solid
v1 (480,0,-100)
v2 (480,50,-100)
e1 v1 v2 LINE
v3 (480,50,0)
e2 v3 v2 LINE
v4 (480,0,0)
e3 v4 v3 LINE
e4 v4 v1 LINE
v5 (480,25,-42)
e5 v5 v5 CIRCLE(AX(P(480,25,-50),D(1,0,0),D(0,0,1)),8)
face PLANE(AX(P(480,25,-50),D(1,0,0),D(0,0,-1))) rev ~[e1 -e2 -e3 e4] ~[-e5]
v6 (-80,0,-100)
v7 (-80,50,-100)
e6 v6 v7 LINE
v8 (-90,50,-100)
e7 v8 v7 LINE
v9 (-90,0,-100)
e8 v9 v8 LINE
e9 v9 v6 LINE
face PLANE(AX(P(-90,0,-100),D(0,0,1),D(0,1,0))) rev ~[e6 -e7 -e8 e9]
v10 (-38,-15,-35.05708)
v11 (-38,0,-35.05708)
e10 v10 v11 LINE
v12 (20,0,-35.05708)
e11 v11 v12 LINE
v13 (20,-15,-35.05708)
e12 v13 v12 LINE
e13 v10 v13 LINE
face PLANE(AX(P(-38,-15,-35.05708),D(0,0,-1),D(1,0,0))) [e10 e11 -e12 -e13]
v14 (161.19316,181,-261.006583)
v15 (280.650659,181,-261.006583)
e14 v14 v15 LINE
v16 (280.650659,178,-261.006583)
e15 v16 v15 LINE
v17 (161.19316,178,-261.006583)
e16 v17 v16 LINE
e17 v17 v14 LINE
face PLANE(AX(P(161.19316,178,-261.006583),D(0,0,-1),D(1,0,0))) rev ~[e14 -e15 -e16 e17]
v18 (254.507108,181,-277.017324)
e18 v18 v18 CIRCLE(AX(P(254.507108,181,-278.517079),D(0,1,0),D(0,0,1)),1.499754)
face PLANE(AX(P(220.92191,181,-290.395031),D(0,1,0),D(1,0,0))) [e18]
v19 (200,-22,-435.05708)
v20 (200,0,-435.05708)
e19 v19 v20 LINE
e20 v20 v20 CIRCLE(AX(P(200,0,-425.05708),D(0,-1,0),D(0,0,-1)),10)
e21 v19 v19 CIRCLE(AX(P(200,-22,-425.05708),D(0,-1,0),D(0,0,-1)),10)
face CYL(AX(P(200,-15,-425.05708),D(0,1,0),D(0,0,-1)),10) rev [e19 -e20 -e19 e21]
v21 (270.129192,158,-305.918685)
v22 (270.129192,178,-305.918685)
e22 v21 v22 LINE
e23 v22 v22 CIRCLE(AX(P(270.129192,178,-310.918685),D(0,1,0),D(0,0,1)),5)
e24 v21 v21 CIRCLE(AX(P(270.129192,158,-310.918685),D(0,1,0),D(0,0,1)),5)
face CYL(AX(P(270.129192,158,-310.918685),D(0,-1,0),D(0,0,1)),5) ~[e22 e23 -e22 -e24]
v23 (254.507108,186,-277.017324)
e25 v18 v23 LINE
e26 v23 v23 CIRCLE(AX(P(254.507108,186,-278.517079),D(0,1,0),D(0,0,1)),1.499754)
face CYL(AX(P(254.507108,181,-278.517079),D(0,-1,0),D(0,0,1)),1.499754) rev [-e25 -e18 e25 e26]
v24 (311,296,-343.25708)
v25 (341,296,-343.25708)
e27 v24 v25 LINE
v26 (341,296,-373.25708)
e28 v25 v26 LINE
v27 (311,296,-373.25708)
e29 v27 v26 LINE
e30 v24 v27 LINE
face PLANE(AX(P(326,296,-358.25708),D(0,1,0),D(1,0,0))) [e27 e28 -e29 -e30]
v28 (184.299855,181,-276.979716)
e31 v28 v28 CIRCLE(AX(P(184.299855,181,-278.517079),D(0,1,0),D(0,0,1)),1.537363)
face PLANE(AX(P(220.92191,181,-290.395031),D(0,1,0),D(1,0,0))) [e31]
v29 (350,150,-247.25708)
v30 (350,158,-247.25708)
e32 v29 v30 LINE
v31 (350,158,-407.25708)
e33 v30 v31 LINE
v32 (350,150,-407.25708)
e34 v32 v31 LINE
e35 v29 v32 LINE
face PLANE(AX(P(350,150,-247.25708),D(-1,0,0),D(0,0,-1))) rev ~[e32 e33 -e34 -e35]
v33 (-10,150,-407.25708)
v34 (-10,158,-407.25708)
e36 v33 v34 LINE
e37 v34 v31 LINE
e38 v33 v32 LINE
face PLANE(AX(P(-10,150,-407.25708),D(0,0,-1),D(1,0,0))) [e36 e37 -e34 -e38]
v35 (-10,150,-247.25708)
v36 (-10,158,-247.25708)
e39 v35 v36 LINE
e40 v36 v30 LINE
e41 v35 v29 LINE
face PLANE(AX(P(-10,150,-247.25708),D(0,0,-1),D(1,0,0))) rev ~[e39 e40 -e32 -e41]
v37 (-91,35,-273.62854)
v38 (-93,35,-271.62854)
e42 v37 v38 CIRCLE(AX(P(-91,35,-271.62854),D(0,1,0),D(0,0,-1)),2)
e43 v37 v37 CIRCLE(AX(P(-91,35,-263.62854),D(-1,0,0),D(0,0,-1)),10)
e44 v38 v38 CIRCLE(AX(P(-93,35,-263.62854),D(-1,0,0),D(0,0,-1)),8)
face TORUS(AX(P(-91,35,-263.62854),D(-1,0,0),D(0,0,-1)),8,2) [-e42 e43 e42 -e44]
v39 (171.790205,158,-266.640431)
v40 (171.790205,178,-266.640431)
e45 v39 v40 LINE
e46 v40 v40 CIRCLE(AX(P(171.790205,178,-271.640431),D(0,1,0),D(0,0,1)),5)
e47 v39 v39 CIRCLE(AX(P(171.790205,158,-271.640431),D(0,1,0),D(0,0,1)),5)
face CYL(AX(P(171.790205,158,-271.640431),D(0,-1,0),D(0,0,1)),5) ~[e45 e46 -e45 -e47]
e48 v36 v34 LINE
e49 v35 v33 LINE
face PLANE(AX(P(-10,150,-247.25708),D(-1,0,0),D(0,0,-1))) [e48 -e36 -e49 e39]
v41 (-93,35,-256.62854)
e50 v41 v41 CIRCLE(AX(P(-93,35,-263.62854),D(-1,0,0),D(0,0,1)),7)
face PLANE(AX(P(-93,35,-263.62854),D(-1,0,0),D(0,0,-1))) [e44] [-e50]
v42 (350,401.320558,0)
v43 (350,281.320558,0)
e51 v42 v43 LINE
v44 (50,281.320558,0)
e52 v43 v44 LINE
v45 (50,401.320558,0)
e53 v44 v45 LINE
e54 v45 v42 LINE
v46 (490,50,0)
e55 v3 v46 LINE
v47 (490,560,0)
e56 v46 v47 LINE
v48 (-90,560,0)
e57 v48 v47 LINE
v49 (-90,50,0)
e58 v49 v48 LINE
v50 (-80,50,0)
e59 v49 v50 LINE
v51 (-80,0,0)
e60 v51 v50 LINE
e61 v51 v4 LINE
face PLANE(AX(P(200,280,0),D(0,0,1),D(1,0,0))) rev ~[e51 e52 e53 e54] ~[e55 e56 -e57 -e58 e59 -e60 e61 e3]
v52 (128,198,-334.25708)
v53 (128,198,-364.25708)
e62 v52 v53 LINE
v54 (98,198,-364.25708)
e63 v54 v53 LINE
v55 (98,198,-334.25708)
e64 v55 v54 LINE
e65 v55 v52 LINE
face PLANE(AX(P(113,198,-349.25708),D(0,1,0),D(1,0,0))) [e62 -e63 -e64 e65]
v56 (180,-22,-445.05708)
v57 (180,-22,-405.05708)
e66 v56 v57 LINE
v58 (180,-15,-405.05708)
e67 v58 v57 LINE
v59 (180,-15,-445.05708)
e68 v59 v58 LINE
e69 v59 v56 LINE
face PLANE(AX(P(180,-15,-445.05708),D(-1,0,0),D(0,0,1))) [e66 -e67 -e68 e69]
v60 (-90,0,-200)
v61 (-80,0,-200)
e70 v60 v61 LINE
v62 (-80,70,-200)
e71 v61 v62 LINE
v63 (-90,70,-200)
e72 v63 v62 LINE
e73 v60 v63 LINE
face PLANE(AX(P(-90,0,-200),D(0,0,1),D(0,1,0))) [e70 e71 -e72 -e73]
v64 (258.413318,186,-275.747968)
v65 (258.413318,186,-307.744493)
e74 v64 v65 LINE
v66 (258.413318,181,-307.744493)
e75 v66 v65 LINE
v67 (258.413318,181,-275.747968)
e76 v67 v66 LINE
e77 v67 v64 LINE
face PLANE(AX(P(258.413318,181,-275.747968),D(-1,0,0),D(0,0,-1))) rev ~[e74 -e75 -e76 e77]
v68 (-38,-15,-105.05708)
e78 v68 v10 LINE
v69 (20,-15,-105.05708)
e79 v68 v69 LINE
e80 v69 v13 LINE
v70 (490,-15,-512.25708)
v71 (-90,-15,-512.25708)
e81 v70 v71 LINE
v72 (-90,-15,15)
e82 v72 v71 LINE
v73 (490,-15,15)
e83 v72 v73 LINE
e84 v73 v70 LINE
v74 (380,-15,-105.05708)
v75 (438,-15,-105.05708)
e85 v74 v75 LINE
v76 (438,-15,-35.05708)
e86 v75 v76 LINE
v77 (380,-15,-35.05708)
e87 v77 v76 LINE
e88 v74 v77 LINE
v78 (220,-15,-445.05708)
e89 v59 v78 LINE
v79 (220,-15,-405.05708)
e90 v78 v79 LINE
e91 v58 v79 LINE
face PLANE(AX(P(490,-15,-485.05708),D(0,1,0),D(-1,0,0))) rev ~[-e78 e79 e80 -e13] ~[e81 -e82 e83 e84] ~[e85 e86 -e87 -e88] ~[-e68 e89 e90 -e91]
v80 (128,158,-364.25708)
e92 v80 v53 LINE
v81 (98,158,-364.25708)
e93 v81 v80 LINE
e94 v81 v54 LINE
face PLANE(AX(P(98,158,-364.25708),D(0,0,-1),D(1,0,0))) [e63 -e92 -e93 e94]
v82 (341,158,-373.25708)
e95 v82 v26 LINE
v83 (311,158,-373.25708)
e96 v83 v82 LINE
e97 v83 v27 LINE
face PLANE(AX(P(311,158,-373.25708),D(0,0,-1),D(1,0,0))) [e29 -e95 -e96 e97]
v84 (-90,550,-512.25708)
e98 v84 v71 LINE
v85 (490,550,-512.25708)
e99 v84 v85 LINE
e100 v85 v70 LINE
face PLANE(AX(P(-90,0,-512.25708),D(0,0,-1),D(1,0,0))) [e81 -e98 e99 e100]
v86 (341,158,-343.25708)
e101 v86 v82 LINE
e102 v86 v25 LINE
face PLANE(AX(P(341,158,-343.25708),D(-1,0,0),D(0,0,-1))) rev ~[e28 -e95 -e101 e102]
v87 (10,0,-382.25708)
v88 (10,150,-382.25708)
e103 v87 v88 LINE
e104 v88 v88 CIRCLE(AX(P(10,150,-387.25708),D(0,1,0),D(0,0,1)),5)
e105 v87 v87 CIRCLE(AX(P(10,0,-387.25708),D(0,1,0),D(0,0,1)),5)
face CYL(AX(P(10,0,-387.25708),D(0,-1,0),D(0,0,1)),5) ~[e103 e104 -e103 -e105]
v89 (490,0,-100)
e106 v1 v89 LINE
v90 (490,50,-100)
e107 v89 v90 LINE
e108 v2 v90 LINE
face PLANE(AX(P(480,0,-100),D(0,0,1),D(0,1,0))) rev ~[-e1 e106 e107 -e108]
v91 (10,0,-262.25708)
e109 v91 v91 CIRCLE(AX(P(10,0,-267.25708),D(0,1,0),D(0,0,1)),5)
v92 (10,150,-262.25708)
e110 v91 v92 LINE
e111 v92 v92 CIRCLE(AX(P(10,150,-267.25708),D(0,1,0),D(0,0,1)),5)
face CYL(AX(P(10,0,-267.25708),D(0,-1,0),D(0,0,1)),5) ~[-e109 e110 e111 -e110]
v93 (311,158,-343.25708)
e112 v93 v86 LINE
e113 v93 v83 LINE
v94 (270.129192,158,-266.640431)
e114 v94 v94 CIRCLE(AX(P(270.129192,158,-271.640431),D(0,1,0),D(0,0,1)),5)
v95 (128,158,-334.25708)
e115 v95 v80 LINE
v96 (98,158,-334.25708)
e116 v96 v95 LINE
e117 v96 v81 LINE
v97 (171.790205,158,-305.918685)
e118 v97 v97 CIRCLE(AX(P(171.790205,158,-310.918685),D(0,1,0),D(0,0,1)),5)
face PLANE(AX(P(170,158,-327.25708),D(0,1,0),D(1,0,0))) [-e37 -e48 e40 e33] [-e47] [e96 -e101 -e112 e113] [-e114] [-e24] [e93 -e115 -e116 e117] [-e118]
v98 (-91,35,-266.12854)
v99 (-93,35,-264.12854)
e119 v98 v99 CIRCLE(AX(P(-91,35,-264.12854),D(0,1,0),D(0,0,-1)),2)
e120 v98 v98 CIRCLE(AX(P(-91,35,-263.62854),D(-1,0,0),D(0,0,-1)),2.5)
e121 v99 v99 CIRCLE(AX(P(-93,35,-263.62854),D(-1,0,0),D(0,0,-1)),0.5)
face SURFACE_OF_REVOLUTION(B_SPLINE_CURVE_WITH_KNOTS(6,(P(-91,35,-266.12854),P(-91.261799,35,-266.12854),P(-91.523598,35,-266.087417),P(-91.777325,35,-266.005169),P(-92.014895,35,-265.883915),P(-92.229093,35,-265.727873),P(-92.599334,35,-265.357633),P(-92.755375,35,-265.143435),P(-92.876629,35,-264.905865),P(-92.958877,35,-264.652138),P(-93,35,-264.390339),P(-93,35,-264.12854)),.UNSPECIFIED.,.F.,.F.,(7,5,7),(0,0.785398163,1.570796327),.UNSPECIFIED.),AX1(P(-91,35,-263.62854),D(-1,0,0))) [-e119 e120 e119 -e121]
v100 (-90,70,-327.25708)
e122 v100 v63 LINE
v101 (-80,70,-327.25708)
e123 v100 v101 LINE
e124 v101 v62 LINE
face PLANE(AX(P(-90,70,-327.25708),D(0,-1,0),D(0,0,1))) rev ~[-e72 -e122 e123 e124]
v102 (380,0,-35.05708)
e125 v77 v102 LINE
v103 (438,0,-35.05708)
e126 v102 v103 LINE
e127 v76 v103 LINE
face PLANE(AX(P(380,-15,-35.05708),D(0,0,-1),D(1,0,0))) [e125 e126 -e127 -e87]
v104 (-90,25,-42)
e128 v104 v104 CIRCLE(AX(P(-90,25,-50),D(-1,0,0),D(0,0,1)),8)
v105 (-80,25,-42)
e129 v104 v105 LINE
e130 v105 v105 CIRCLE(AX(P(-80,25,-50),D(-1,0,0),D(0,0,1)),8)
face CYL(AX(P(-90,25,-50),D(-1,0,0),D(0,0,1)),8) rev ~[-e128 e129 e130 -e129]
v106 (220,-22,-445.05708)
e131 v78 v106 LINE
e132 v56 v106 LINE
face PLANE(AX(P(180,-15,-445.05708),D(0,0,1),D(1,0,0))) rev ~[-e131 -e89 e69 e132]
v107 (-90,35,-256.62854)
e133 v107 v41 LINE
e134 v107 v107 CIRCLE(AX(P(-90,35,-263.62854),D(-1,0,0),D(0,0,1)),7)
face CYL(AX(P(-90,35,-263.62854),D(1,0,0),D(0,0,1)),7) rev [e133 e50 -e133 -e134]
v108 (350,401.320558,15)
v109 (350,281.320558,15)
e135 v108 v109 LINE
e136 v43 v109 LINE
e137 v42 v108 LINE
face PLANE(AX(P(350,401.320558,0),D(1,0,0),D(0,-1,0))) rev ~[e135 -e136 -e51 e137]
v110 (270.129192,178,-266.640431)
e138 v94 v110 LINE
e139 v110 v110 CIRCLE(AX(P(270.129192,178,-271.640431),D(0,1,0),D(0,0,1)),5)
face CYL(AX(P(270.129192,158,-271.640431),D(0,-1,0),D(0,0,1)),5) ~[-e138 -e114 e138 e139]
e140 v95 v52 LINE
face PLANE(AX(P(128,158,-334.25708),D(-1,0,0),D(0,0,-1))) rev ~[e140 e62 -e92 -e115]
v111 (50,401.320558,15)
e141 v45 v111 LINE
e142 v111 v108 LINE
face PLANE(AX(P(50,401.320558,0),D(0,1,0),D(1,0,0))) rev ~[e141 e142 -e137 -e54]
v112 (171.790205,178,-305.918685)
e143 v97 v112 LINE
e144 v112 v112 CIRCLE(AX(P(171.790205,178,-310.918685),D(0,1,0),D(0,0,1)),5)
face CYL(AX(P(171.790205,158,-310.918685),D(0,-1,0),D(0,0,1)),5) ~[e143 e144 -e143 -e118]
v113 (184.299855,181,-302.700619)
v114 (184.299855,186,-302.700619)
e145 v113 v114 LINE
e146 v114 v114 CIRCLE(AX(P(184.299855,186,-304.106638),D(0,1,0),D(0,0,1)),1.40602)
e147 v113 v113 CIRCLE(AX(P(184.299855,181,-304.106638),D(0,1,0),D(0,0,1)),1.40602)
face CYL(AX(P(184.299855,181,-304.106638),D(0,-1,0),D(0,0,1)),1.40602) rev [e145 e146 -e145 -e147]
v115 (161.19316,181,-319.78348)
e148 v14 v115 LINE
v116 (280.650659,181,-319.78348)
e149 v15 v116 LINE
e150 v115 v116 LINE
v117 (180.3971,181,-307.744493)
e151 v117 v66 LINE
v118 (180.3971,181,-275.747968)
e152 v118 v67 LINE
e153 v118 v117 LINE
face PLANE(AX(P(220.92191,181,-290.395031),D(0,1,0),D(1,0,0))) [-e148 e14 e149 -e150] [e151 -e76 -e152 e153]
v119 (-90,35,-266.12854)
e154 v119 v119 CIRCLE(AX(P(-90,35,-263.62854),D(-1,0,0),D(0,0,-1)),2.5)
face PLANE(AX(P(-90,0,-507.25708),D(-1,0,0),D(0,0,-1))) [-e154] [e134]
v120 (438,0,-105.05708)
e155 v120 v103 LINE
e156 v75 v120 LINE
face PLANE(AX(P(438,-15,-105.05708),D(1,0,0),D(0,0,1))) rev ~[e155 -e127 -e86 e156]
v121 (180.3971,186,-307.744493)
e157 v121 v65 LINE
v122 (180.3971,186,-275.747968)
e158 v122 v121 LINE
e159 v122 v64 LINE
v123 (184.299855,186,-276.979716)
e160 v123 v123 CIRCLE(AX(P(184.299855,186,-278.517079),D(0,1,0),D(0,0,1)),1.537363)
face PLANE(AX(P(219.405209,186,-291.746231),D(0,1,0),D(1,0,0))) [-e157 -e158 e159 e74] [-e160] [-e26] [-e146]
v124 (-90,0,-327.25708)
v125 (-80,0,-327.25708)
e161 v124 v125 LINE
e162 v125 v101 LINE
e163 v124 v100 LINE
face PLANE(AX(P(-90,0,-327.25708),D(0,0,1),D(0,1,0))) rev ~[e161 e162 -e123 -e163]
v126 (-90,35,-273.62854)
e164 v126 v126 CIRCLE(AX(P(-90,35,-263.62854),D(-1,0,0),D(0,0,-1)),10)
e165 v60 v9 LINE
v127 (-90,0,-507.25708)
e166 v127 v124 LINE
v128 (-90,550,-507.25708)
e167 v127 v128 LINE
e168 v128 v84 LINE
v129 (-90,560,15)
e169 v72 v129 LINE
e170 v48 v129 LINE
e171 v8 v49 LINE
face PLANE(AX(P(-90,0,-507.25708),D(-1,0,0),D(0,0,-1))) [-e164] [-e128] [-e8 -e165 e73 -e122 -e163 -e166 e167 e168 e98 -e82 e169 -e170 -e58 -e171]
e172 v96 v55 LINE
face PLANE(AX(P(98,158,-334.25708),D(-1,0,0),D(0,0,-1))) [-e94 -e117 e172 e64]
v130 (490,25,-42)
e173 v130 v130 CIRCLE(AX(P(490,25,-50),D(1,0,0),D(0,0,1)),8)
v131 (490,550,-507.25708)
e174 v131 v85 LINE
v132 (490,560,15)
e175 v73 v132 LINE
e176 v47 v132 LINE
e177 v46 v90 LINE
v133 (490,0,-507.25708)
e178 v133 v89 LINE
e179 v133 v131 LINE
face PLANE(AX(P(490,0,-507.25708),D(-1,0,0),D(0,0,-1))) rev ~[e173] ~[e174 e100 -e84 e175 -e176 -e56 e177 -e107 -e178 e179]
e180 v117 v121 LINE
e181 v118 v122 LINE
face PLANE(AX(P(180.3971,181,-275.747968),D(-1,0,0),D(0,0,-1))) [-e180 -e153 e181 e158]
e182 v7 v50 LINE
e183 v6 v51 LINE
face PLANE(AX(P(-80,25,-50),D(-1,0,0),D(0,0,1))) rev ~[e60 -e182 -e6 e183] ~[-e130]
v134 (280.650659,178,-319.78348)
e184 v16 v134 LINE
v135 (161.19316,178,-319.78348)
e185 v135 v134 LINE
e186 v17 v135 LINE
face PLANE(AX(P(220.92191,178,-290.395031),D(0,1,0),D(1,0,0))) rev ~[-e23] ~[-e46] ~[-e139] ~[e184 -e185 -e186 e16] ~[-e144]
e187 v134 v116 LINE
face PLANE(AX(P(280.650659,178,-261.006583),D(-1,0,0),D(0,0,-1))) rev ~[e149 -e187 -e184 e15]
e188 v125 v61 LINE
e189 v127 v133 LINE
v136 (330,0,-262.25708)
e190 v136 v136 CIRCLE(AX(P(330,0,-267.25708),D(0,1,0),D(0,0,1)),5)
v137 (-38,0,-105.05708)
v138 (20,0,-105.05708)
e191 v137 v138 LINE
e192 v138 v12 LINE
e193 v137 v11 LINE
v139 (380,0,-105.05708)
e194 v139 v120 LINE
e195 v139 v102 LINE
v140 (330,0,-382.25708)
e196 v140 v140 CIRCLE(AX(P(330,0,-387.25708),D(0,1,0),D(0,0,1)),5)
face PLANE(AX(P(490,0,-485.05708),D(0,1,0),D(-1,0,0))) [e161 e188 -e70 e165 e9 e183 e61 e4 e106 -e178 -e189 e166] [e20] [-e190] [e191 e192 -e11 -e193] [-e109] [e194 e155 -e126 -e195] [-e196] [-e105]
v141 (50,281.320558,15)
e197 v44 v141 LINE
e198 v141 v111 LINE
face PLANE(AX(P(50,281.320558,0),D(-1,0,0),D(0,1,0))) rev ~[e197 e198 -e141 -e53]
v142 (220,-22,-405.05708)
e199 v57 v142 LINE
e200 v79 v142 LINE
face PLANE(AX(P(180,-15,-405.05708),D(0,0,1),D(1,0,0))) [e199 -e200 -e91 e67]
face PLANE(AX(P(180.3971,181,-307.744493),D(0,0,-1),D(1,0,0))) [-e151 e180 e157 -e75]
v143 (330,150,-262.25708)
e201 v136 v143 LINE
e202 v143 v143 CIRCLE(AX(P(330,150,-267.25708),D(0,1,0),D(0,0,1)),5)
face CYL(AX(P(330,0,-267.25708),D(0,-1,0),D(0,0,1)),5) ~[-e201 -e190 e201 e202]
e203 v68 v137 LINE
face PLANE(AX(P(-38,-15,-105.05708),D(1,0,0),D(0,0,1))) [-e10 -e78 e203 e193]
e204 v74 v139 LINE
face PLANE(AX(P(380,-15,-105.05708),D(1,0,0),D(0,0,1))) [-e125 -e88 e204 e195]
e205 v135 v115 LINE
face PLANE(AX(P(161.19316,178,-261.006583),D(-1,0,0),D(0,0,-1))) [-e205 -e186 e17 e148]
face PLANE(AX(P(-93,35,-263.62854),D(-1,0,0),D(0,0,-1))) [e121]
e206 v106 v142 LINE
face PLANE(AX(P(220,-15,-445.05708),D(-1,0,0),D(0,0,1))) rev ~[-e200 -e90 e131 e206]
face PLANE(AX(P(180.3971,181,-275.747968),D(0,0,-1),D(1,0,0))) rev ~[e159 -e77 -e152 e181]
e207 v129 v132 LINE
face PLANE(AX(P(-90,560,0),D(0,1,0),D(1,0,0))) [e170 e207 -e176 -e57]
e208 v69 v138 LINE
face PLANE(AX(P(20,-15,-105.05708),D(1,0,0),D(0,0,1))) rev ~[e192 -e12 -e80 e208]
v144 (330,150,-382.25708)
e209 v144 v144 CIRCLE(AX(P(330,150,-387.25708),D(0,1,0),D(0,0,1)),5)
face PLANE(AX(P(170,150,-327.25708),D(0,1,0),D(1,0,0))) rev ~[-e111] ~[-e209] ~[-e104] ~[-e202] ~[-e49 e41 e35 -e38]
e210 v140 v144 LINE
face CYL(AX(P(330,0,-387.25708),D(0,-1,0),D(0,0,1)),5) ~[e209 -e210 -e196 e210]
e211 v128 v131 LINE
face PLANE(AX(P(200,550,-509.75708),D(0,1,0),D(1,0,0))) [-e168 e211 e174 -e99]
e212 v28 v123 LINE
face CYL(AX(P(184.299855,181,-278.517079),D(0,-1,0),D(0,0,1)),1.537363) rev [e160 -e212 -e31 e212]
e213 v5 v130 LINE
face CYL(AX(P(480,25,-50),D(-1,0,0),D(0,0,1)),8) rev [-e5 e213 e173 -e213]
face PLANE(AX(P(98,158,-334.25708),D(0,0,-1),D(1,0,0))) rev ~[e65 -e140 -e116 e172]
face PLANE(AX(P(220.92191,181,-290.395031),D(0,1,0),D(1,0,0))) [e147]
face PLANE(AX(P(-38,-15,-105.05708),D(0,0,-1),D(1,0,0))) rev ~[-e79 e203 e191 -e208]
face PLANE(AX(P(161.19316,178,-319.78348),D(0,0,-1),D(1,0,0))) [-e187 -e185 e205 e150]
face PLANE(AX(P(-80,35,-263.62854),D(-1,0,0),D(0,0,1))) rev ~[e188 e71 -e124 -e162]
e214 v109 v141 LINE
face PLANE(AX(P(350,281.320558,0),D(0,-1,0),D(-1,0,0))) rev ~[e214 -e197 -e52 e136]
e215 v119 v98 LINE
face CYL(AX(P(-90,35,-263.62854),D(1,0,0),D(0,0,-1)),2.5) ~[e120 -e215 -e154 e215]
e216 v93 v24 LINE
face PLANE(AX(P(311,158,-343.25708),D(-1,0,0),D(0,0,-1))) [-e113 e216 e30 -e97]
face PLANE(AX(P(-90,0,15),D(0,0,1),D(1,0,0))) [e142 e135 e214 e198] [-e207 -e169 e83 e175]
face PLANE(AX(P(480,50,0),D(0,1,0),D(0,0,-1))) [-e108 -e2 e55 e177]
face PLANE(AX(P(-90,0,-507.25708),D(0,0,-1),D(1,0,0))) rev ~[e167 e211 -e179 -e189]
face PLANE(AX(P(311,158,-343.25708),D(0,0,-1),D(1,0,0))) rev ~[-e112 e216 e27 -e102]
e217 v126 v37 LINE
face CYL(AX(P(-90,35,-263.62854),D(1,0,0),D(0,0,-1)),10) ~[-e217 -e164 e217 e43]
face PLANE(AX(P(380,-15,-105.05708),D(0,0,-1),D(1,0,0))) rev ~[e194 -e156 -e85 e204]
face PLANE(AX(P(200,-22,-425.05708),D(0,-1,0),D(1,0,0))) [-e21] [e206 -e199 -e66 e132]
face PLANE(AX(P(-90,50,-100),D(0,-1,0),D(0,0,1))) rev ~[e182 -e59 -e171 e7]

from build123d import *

# Parameters (mm, degrees)
SKETCH_1_W          = 580
SKETCH_1_H          = 560
EXTRUDE_1_DEPTH     = 15
SKETCH_3_W          = 580
SKETCH_3_H          = 500.057079529
EXTRUDE_2_DEPTH     = 15
SKETCH_4_R          = 10
SKETCH_4_W          = 58
SKETCH_4_H          = 70
CUT_EXTRUDE_1_DEPTH = 15
SKETCH_5_W          = 40
SKETCH_5_H          = 40
SKETCH_5_R          = 10
EXTRUDE_3_DEPTH     = 7
SKETCH_6_W          = 100
SKETCH_6_H          = 50
SKETCH_6_R          = 8
EXTRUDE_4_DEPTH     = 10
EXTRUDE_START       = -10
SKETCH_7_W          = 100
SKETCH_7_H          = 50
SKETCH_7_R          = 8
EXTRUDE_5_DEPTH     = 10
SKETCH_8_W          = 580
SKETCH_8_H          = 15
EXTRUDE_6_DEPTH     = 27.2
SKETCH_9_W          = 580
SKETCH_9_H          = 5
EXTRUDE_7_DEPTH     = 550
SKETCH_10_R         = 5
EXTRUDE_8_DEPTH     = 150
SKETCH_11_W         = 360
SKETCH_11_H         = 160
EXTRUDE_9_DEPTH     = 8
SKETCH_12_W         = 30
SKETCH_12_H         = 30
EXTRUDE_10_DEPTH    = 40
SKETCH_13_W         = 30
SKETCH_13_H         = 30
EXTRUDE_11_DEPTH    = 138
SKETCH_14_W         = 127.257079529
SKETCH_14_H         = 70
EXTRUDE_12_DEPTH    = 10
SKETCH_15_R         = 10
SKETCH_15_R_2       = 7
SKETCH_15_R_3       = 2.5
EXTRUDE_13_DEPTH    = 3
FILLET_2_R          = 2
SKETCH_16_R         = 5
EXTRUDE_14_DEPTH    = 20
SKETCH_17_W         = 119.457499099
SKETCH_17_H         = 58.776896967
EXTRUDE_15_DEPTH    = 3
SKETCH_18_W         = 78.016217291
SKETCH_18_H         = 31.996524559
SKETCH_18_R         = 1.406019753
SKETCH_18_R_2       = 1.53736257
SKETCH_18_R_3       = 1.499754403
EXTRUDE_16_DEPTH    = 5


with BuildPart() as part:
    # 草图1 → 凸台-拉伸1 (new body)
    with BuildSketch(Plane.XY):
        with Locations((200, 280)):
            Rectangle(SKETCH_1_W, SKETCH_1_H)
        Polygon((200, 401.320557861), (350, 401.320557861), (350, 281.320557861), (50, 281.320557861), (50, 401.320557861), align=None, mode=Mode.SUBTRACT)
    extrude(amount=EXTRUDE_1_DEPTH)



with BuildPart() as body_2:
    # 草图3 → 凸台-拉伸2 (new body)
    with BuildSketch(Plane.XZ):
        with Locations((200, -235.028539765)):
            Rectangle(SKETCH_3_W, SKETCH_3_H)
    extrude(amount=EXTRUDE_2_DEPTH)

    # 草图4 → 切除-拉伸1 (cut)
    with BuildSketch(Plane.XZ.offset(15)):
        with Locations(Location((200, -425.057079529, 0), (0, 0, 270))):
            Circle(SKETCH_4_R)
        with Locations((409, -70.057079529)):
            Rectangle(SKETCH_4_W, SKETCH_4_H)
        with Locations((-9, -70.057079529)):
            Rectangle(SKETCH_4_W, SKETCH_4_H)
    extrude(amount=-CUT_EXTRUDE_1_DEPTH, mode=Mode.SUBTRACT)

    # 草图5 → 凸台-拉伸3 (add)
    with BuildSketch(Plane.XZ.offset(15)):
        with Locations((200, -425.057079529)):
            Rectangle(SKETCH_5_W, SKETCH_5_H)
        with Locations(Location((200, -425.057079529, 0), (0, 0, 270))):
            Circle(SKETCH_5_R, mode=Mode.SUBTRACT)
    extrude(amount=EXTRUDE_3_DEPTH)


with BuildPart() as part_1:
    add(part.part)

    add(body_2.part)  # 凸台-拉伸4 merges body 2
    # 草图6 → 凸台-拉伸4 (add)
    with BuildSketch(Plane.ZY.offset(90)):
        with Locations((-50, 25)):
            Rectangle(SKETCH_6_W, SKETCH_6_H)
        with Locations((-50, 25)):
            Circle(SKETCH_6_R, mode=Mode.SUBTRACT)
    extrude(amount=-EXTRUDE_4_DEPTH)

    # 草图7 → 凸台-拉伸5 (add)
    with BuildSketch(Plane(origin=(490, 0, 0), x_dir=(0, 0, -1), z_dir=(1, 0, 0)).offset(EXTRUDE_START)):
        with Locations((50, 25)):
            Rectangle(SKETCH_7_W, SKETCH_7_H)
        with Locations(Location((50, 25, 0), (0, 0, 180))):
            Circle(SKETCH_7_R, mode=Mode.SUBTRACT)
    extrude(amount=EXTRUDE_5_DEPTH)

    # 草图8 → 凸台-拉伸6 (add)
    with BuildSketch(Plane(origin=(0, 0, -485.057079529), x_dir=(-1, 0, 0), z_dir=(0, 0, -1))):
        with Locations((-200, -7.5)):
            Rectangle(SKETCH_8_W, SKETCH_8_H)
    extrude(amount=EXTRUDE_6_DEPTH)

    # 草图9 → 凸台-拉伸7 (add)
    with BuildSketch(Plane(origin=(0, 0, 0), x_dir=(1, 0, 0), z_dir=(0, 1, 0))):
        with Locations((200, 509.757079529)):
            Rectangle(SKETCH_9_W, SKETCH_9_H)
    extrude(amount=EXTRUDE_7_DEPTH)

    # 草图10 → 凸台-拉伸8 (add)
    with BuildSketch(Plane(origin=(0, 0, 0), x_dir=(1, 0, 0), z_dir=(0, 1, 0))):
        with Locations(Location((10, 387.257079529, 0), (0, 0, 270))):
            Circle(SKETCH_10_R)
        with Locations(Location((330, 387.257079529, 0), (0, 0, 270))):
            Circle(SKETCH_10_R)
        with Locations(Location((10, 267.257079529, 0), (0, 0, 270))):
            Circle(SKETCH_10_R)
        with Locations(Location((330, 267.257079529, 0), (0, 0, 270))):
            Circle(SKETCH_10_R)
    extrude(amount=EXTRUDE_8_DEPTH)

    # 草图11 → 凸台-拉伸9 (add)
    with BuildSketch(Plane(origin=(0, 150, 0), x_dir=(1, 0, 0), z_dir=(0, 1, 0))):
        with Locations((170, 327.257079529)):
            Rectangle(SKETCH_11_W, SKETCH_11_H)
    extrude(amount=EXTRUDE_9_DEPTH)

    # 草图12 → 凸台-拉伸10 (add)
    with BuildSketch(Plane(origin=(0, 158, 0), x_dir=(1, 0, 0), z_dir=(0, 1, 0))):
        with Locations((113, 349.257079529)):
            Rectangle(SKETCH_12_W, SKETCH_12_H)
    extrude(amount=EXTRUDE_10_DEPTH)

    # 草图13 → 凸台-拉伸11 (add)
    with BuildSketch(Plane(origin=(0, 158, 0), x_dir=(1, 0, 0), z_dir=(0, 1, 0))):
        with Locations((326, 358.257079529)):
            Rectangle(SKETCH_13_W, SKETCH_13_H)
    extrude(amount=EXTRUDE_11_DEPTH)

    # 草图14 → 凸台-拉伸12 (add)
    with BuildSketch(Plane.ZY.offset(90)):
        with Locations((-263.628539765, 35)):
            Rectangle(SKETCH_14_W, SKETCH_14_H)
    extrude(amount=-EXTRUDE_12_DEPTH)

    # 草图15 → 凸台-拉伸13 (add)
    # profile 1 of 2: a face of its own
    with BuildSketch(Plane.ZY.offset(90)):
        with Locations(Location((-263.628539764, 35, 0), (0, 0, 180))):
            Circle(SKETCH_15_R)
        with Locations((-263.628539764, 35)):
            Circle(SKETCH_15_R_2, mode=Mode.SUBTRACT)
    # profile 2 of 2: a face of its own
    with BuildSketch(Plane.ZY.offset(90)):
        with Locations(Location((-263.628539764, 35, 0), (0, 0, 180))):
            Circle(SKETCH_15_R_3)
    extrude(amount=EXTRUDE_13_DEPTH)

    # 圆角2
    fillet_2_edges = [part_1.edges().sort_by_distance(p)[0] for p in [
        (-93, 35, -253.628539764),
        (-93, 35, -261.128539764),
    ]]
    fillet(fillet_2_edges, radius=FILLET_2_R)

    # 草图16 → 凸台-拉伸14 (add)
    with BuildSketch(Plane(origin=(0, 158, 0), x_dir=(1, 0, 0), z_dir=(0, 1, 0))):
        with Locations(Location((171.790204926, 271.64043121, 0), (0, 0, 270))):
            Circle(SKETCH_16_R)
        with Locations(Location((270.129191609, 271.64043121, 0), (0, 0, 270))):
            Circle(SKETCH_16_R)
        with Locations(Location((171.790204926, 310.918685367, 0), (0, 0, 270))):
            Circle(SKETCH_16_R)
        with Locations(Location((270.129191609, 310.918685367, 0), (0, 0, 270))):
            Circle(SKETCH_16_R)
    extrude(amount=EXTRUDE_14_DEPTH)

    # 草图17 → 凸台-拉伸15 (add)
    with BuildSketch(Plane(origin=(0, 178, 0), x_dir=(1, 0, 0), z_dir=(0, 1, 0))):
        with Locations((220.921909881, 290.395031068)):
            Rectangle(SKETCH_17_W, SKETCH_17_H)
    extrude(amount=EXTRUDE_15_DEPTH)

    # 草图18 → 凸台-拉伸16 (add)
    with BuildSketch(Plane(origin=(0, 181, 0), x_dir=(1, 0, 0), z_dir=(0, 1, 0))):
        with Locations((219.405209005, 291.746230642)):
            Rectangle(SKETCH_18_W, SKETCH_18_H)
        with Locations(Location((184.299854938, 304.10663833, 0), (0, 0, 270))):
            Circle(SKETCH_18_R, mode=Mode.SUBTRACT)
        with Locations(Location((184.299854938, 278.517078822, 0), (0, 0, 270))):
            Circle(SKETCH_18_R_2, mode=Mode.SUBTRACT)
        with Locations(Location((254.507107947, 278.517078822, 0), (0, 0, 270))):
            Circle(SKETCH_18_R_3, mode=Mode.SUBTRACT)
    extrude(amount=EXTRUDE_16_DEPTH)


solid = part_1.part
